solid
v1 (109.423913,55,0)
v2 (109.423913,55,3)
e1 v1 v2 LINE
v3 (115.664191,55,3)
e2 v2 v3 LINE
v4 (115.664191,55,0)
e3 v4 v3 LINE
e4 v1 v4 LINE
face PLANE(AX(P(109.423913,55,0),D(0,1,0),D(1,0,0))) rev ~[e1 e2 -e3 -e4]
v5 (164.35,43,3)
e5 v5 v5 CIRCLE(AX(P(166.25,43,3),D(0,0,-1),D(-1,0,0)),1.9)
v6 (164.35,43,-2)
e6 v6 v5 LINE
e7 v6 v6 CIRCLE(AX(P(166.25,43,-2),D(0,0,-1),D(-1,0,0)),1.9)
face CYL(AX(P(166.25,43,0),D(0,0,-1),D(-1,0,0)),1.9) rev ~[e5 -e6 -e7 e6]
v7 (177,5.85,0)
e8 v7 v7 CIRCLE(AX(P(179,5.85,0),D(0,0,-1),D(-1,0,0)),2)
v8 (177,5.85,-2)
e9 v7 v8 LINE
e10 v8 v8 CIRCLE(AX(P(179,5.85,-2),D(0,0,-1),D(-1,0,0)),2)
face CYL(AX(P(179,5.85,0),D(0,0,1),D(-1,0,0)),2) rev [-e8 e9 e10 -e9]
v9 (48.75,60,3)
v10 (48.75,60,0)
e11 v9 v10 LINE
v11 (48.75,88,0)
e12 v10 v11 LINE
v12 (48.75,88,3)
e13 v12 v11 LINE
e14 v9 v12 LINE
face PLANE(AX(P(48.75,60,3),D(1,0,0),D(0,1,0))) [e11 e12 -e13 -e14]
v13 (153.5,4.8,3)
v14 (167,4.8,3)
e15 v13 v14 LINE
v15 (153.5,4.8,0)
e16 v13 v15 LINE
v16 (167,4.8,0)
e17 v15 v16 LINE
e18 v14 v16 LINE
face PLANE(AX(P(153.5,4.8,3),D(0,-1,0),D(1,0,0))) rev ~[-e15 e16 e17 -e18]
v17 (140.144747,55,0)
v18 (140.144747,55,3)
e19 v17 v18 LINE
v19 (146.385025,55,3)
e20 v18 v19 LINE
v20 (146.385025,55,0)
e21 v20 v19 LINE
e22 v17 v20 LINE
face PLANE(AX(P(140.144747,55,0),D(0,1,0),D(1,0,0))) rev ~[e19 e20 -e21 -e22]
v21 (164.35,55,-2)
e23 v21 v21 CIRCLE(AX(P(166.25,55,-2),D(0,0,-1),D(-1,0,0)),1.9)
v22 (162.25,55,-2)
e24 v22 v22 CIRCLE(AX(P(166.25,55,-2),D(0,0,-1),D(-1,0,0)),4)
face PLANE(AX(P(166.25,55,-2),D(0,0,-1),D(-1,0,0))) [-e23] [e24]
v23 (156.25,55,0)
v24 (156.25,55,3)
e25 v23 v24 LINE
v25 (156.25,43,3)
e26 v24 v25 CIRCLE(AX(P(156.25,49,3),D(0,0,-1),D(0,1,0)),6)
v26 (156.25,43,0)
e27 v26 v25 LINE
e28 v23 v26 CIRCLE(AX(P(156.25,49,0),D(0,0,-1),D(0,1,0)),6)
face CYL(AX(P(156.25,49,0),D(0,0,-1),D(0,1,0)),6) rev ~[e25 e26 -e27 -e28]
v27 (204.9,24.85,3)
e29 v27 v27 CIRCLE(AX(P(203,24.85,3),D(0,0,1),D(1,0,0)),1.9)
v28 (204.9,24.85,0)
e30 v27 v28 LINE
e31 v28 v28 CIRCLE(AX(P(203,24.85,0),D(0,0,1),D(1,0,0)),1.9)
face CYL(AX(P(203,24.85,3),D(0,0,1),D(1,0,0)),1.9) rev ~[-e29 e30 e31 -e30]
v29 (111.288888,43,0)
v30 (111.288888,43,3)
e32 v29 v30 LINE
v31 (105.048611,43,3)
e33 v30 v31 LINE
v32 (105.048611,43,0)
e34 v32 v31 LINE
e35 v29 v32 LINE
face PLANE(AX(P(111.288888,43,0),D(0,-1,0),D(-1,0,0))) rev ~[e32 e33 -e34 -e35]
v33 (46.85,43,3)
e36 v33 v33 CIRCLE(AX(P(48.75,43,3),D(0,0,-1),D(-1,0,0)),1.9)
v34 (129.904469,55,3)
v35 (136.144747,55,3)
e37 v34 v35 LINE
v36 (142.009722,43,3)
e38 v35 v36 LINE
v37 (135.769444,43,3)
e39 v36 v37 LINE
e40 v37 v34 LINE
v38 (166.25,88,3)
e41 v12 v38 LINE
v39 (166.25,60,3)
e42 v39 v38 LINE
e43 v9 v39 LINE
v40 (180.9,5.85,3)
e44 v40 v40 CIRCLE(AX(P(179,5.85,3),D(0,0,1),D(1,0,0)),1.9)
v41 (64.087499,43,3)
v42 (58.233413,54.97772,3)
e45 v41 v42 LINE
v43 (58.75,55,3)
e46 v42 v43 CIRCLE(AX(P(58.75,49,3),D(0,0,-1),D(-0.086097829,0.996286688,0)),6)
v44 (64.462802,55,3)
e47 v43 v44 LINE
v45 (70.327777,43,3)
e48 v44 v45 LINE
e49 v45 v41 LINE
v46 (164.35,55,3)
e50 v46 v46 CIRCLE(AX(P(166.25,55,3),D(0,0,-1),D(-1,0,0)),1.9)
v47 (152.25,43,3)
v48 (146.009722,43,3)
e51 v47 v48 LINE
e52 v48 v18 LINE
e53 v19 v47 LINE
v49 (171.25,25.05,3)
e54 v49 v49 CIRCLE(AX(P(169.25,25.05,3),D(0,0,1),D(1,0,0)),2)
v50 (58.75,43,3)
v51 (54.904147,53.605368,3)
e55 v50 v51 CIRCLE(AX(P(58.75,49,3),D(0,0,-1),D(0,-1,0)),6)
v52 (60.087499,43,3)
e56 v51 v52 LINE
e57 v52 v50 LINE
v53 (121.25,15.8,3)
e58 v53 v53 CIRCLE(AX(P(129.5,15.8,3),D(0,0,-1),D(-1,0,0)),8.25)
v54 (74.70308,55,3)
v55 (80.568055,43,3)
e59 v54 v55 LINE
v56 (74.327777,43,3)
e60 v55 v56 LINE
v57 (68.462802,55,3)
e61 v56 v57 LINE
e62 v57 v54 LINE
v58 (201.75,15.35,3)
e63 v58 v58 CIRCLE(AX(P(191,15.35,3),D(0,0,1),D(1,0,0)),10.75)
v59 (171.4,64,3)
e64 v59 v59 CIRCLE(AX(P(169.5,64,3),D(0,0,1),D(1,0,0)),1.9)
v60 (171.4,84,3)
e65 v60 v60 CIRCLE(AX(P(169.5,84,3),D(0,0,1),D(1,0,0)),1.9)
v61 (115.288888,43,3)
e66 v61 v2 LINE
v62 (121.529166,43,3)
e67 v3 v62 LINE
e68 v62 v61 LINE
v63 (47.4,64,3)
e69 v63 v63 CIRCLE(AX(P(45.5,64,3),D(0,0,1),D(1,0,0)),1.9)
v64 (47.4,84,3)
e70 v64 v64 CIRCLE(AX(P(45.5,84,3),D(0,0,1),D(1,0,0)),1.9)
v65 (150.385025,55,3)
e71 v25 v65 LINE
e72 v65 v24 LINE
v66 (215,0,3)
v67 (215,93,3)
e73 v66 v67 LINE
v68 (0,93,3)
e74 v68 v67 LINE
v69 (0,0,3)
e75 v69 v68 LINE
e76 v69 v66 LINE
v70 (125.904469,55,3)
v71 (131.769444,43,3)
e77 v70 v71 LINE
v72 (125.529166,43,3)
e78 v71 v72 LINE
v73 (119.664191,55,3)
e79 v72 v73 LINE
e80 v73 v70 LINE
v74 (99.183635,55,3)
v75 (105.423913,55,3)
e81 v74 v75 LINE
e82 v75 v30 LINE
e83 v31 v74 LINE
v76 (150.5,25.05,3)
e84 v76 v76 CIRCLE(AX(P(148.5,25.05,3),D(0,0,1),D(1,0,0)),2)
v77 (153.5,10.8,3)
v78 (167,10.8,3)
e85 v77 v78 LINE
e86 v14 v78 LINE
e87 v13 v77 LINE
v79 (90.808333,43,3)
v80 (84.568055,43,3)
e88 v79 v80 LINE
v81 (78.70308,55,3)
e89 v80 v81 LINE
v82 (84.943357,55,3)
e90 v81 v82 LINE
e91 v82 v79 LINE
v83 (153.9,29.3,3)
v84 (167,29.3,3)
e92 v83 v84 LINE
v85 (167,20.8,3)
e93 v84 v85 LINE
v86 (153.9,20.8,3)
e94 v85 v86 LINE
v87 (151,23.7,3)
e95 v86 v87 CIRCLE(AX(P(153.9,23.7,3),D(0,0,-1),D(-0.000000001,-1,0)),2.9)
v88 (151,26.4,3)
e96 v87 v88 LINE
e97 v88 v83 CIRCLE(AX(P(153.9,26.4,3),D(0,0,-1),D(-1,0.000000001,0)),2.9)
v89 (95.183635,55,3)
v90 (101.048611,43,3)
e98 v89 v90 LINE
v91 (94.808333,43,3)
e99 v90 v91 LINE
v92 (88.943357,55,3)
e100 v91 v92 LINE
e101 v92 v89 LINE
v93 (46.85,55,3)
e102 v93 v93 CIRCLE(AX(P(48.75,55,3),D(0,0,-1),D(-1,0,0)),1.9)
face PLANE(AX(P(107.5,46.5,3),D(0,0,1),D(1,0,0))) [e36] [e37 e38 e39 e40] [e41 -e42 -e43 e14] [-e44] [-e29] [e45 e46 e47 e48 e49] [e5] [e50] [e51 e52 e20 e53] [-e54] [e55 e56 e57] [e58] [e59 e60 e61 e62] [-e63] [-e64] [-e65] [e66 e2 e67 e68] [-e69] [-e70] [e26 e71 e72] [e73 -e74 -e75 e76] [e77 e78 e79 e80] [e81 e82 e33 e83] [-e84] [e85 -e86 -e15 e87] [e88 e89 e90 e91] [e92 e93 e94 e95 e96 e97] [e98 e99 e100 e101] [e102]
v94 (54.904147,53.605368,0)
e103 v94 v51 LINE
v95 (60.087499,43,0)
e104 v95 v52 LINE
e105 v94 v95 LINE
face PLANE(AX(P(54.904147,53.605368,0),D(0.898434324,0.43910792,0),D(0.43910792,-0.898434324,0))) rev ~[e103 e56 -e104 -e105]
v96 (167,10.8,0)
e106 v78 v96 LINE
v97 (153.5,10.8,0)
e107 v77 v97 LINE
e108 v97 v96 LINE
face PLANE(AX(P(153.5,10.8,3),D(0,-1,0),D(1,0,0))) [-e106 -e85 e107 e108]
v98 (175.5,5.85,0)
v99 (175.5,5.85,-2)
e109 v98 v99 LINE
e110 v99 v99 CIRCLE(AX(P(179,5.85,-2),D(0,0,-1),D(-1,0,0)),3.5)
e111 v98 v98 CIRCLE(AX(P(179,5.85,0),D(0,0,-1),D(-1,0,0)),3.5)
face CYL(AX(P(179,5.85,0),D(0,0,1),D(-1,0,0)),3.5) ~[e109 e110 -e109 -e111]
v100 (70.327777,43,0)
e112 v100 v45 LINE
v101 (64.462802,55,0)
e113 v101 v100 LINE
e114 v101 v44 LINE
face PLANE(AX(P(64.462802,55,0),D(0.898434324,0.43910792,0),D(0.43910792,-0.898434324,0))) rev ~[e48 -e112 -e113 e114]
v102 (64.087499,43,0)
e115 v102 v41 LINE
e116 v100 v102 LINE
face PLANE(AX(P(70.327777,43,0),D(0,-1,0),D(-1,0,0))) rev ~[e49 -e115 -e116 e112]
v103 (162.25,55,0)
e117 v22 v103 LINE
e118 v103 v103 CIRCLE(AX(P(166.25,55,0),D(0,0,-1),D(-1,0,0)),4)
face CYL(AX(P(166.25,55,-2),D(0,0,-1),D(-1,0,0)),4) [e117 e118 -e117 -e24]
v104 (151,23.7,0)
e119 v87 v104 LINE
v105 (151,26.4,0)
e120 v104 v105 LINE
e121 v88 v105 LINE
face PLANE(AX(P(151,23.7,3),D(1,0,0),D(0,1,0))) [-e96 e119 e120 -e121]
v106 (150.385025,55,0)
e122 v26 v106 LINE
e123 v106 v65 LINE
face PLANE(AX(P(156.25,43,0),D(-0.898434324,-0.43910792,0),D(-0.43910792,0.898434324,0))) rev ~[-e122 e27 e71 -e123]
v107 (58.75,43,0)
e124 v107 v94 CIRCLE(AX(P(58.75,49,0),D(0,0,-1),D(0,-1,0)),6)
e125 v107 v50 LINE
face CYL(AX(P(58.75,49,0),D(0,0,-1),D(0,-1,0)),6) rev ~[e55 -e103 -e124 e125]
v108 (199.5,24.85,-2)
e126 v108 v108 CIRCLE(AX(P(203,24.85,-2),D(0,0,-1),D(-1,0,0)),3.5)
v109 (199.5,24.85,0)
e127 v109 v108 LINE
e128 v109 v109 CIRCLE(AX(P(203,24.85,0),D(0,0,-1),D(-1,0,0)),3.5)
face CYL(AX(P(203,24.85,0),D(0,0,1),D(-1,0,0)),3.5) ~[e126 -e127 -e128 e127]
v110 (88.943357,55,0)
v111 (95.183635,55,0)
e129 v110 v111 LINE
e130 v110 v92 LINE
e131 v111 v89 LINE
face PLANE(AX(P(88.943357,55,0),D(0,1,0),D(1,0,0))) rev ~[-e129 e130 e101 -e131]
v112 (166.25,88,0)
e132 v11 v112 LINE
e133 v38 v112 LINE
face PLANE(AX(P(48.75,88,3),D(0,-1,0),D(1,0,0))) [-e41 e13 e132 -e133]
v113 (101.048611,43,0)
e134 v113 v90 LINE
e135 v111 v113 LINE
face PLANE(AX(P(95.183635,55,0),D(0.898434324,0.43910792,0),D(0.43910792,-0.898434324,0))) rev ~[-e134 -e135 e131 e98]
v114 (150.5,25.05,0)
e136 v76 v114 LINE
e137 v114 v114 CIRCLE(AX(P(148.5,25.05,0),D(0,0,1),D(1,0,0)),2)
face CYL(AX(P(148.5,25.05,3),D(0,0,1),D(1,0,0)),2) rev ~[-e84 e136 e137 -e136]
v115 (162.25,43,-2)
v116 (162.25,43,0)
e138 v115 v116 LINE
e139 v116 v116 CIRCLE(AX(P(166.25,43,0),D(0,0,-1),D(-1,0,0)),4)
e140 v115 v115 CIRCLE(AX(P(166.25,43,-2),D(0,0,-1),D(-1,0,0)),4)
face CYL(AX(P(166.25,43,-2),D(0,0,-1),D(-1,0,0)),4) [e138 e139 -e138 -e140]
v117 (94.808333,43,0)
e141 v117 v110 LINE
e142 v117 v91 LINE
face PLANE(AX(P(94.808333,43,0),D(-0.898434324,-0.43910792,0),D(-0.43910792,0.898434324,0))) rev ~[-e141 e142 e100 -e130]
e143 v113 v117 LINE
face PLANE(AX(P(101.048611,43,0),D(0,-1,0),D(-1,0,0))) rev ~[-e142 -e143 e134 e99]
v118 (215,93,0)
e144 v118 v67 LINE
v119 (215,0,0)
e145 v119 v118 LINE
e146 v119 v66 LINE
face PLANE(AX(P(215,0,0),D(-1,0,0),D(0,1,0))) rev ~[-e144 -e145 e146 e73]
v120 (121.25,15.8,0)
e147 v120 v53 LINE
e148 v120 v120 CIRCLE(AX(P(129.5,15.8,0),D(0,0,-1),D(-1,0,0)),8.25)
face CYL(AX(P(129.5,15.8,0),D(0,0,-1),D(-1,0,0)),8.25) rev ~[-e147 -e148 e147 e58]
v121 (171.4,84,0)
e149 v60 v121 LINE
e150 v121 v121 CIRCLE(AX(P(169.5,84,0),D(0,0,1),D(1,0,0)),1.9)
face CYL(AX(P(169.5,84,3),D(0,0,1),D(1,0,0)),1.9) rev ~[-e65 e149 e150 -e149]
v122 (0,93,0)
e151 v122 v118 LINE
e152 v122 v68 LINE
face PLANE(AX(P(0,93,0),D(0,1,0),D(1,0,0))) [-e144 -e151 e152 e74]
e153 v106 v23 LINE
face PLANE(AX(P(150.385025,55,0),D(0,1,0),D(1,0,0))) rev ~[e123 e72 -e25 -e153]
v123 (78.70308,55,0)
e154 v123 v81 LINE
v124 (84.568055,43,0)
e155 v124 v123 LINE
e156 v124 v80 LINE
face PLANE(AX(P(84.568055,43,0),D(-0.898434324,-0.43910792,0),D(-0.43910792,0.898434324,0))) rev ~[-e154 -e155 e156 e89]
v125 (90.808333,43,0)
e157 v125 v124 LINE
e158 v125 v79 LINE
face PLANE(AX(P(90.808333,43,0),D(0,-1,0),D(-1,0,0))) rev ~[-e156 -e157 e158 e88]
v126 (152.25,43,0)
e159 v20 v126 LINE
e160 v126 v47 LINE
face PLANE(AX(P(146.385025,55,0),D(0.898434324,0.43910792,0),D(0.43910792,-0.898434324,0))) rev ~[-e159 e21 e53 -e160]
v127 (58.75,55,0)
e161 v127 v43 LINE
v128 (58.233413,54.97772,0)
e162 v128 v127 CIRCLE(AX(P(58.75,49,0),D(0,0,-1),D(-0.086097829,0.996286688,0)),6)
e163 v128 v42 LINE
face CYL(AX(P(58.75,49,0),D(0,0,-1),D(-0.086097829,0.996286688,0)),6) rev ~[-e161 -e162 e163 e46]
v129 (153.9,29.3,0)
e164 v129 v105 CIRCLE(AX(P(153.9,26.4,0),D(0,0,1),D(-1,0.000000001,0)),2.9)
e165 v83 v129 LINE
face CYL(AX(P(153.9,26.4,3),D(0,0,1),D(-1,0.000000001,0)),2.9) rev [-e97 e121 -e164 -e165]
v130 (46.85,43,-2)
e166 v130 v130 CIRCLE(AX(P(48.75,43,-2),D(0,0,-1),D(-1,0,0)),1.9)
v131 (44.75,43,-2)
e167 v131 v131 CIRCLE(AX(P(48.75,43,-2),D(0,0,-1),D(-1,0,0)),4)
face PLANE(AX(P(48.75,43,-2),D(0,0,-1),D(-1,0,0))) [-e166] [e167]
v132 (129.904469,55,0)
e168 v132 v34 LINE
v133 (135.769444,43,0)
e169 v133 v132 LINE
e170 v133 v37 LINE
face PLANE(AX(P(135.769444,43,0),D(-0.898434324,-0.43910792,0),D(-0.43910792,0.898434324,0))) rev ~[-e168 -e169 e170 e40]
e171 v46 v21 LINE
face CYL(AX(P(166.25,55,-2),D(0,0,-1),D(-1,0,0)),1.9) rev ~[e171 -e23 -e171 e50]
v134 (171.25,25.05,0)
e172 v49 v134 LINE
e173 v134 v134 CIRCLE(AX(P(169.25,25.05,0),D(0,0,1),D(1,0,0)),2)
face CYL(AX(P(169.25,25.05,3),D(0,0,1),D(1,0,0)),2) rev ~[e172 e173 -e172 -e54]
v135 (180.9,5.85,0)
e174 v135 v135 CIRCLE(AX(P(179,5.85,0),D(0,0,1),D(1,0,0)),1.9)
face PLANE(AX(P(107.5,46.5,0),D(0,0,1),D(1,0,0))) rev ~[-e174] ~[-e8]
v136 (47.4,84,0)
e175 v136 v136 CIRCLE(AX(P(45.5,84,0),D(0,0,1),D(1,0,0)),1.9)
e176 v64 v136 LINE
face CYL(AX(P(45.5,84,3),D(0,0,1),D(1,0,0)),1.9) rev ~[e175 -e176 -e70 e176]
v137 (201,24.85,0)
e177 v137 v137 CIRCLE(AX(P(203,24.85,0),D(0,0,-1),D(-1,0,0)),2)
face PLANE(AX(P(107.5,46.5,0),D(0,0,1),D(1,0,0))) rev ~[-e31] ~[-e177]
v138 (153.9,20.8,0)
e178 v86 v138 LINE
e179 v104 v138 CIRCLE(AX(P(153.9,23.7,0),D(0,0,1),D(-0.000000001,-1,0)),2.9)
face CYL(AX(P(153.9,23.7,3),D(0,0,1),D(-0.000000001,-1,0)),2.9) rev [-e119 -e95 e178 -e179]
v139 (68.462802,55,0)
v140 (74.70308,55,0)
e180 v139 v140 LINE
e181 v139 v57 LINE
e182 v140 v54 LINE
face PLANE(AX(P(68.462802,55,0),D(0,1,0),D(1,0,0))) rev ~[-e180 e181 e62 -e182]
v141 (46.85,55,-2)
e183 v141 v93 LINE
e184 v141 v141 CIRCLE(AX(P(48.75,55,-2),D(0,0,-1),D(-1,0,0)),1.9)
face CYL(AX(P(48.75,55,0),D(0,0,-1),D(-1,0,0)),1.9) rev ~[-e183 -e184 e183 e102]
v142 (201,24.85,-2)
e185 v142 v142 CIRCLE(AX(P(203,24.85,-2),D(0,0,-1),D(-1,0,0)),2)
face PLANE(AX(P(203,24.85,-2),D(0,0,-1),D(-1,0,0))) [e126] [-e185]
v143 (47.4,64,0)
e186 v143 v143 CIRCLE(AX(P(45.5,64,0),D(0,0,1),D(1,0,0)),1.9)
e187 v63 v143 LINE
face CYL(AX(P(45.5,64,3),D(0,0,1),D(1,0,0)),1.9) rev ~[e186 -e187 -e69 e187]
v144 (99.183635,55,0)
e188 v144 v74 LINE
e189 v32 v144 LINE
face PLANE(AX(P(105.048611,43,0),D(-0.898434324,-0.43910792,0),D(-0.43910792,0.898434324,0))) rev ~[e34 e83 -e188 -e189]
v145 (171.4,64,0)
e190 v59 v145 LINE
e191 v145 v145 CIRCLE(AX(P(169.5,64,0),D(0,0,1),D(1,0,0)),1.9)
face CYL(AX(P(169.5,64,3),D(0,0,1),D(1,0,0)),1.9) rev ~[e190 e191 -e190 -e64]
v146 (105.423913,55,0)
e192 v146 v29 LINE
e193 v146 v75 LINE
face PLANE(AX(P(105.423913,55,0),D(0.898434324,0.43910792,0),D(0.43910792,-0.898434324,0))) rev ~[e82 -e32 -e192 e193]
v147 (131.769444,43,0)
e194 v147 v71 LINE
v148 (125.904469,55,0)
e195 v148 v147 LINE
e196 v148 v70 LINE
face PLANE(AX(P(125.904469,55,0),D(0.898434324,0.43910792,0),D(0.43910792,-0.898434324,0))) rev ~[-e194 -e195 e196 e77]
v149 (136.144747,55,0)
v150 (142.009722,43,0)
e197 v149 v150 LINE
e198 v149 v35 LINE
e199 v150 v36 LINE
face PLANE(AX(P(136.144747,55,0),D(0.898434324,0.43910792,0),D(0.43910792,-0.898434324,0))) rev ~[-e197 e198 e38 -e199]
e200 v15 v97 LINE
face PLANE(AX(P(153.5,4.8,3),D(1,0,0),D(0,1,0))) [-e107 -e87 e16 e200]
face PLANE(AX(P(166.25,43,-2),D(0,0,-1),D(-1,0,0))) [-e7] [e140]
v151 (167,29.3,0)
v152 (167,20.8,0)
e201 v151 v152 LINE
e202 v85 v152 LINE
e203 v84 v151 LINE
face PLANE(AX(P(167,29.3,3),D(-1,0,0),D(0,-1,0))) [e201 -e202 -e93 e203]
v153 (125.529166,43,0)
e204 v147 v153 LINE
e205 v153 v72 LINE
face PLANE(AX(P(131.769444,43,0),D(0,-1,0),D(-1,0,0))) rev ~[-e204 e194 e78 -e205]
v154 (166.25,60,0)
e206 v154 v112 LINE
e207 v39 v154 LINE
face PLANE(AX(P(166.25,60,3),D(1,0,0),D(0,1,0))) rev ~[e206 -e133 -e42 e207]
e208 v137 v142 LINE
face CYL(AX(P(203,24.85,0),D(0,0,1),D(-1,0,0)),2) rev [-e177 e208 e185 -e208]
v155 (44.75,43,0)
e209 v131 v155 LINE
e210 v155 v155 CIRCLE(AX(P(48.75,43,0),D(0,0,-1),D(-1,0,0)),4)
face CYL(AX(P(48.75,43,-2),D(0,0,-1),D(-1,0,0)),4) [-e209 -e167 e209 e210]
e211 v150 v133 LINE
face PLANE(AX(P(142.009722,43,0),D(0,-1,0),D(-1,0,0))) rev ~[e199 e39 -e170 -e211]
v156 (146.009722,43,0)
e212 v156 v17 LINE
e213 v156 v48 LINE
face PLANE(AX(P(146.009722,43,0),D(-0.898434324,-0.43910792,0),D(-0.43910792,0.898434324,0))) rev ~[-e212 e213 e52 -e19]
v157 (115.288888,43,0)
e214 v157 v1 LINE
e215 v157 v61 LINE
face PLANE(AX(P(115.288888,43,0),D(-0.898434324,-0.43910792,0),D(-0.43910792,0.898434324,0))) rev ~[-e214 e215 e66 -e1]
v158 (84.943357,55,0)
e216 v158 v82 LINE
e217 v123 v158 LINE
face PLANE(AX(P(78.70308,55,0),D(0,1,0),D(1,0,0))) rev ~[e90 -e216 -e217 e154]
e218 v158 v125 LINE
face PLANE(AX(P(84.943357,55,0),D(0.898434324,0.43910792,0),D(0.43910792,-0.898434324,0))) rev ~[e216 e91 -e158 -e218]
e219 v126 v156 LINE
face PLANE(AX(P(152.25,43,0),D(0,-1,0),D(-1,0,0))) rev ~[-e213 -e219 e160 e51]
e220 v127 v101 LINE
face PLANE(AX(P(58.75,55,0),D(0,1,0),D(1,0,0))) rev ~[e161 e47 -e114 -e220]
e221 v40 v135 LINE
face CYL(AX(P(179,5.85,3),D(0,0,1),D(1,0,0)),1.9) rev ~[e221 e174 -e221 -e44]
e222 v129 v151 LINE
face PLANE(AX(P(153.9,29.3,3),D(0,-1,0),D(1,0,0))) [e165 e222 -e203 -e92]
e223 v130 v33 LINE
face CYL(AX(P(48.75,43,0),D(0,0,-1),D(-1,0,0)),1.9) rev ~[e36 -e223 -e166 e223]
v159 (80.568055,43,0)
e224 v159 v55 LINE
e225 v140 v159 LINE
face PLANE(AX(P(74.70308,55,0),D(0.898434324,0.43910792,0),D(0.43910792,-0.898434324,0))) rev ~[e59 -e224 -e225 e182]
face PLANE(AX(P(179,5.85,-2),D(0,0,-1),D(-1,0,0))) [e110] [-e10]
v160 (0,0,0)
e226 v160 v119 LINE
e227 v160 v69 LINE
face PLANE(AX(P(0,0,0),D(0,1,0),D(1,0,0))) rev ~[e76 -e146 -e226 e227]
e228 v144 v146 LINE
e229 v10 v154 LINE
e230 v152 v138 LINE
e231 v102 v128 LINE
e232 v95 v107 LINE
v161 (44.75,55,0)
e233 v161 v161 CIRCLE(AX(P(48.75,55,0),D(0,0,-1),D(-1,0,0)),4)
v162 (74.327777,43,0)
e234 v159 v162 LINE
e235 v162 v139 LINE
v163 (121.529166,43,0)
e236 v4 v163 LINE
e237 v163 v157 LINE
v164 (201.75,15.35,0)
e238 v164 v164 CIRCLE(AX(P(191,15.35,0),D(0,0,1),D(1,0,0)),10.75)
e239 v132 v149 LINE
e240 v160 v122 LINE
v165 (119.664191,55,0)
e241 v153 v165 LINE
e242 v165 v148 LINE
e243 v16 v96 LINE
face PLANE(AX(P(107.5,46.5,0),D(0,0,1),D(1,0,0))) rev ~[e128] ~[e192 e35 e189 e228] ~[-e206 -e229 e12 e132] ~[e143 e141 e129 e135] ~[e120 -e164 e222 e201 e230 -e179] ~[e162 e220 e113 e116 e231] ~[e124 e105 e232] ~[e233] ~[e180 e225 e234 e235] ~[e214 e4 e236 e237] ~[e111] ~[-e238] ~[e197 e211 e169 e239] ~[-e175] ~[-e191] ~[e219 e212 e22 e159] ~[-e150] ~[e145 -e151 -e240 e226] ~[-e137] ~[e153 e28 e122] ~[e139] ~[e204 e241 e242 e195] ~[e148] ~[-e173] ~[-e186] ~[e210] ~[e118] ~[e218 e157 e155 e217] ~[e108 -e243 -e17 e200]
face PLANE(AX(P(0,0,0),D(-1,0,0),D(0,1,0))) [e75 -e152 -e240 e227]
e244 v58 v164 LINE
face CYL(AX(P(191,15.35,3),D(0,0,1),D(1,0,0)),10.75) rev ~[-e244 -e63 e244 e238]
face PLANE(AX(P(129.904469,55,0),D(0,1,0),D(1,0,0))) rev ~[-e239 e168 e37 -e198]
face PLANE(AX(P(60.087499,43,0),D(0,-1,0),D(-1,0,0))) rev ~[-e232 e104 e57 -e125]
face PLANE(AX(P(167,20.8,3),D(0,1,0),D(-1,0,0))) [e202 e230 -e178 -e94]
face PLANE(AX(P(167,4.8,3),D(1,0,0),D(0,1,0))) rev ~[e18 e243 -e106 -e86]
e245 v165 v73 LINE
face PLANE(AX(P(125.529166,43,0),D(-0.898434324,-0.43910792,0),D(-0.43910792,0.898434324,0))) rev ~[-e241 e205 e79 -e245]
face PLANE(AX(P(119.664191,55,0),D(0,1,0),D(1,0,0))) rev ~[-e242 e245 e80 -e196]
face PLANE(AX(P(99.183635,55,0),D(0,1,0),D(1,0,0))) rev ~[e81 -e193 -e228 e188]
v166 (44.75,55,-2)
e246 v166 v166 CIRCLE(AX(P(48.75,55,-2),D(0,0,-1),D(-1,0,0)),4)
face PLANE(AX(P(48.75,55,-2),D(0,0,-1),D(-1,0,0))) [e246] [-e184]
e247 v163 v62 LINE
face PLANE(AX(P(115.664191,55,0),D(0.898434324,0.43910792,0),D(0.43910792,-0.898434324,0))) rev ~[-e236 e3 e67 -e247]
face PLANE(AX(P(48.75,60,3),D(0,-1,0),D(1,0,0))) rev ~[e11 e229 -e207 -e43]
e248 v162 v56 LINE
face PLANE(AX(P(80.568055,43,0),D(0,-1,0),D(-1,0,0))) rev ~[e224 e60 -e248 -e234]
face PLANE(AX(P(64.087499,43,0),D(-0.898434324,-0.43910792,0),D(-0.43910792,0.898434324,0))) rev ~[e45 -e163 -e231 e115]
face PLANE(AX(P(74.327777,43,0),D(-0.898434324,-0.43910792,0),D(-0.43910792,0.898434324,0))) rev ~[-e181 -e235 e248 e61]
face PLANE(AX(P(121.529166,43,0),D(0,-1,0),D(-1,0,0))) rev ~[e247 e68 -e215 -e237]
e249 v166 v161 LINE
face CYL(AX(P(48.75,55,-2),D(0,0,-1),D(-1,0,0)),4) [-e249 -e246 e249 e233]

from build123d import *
from OCP.BRepFilletAPI import BRepFilletAPI_MakeChamfer

# Parameters (mm, degrees)
SZKIC1_W                    = 215
SZKIC1_H                    = 93
DODANIE_WYCI_GNI_CIE1_DEPTH = 3
DODANIE_WYCI_GNI_CIE3_DEPTH = 5
SZKIC4_R                    = 1.9
WYTNIJ_WYCI_GNI_CIE1_DEPTH  = 10
SZKIC5_R                    = 1.9
SZKIC5_W                    = 117.5
SZKIC5_H                    = 28
WYTNIJ_WYCI_GNI_CIE2_DEPTH  = 35
SFAZOWANIE1_SIZE            = 2
SFAZOWANIE1_SIZE2           = 1.42483793
SFAZOWANIE1_SIZE2_2         = 2.349845037
SZKIC6_R                    = 10.75
SZKIC6_R_2                  = 1.9
SZKIC6_R_3                  = 2
SZKIC6_W                    = 13.5
SZKIC6_H                    = 6
WYTNIJ_WYCI_GNI_CIE3_DEPTH  = 238.314137801
SZKIC8_R                    = 3.5
SZKIC8_R_2                  = 2
DODANIE_WYCI_GNI_CIE4_DEPTH = 2
SZKIC9_R                    = 1.9
WYTNIJ_WYCI_GNI_CIE4_DEPTH  = 3
DODANIE_WYCI_GNI_CIE5_START = 2
SZKIC10_R                   = 4
SZKIC10_R_2                 = 1.9
DODANIE_WYCI_GNI_CIE5_DEPTH = 2
SZKIC11_R                   = 8.25
WYTNIJ_WYCI_GNI_CIE5_DEPTH  = 10
CUT_EXTRUDE1_REACH          = 152.101


with BuildPart() as part:
    # Szkic1 → Dodanie-wyciągnięcie1 (new body)
    with BuildSketch(Plane.XY):
        with Locations((107.5, 46.5)):
            Rectangle(SZKIC1_W, SZKIC1_H)
    extrude(amount=DODANIE_WYCI_GNI_CIE1_DEPTH)

    # Szkic3 → Dodanie-wyciągnięcie3 (add, symmetric)
    with BuildSketch(Plane(origin=(107.5, 0, 0), x_dir=(0, 0, -1), z_dir=(1, 0, 0))):
        Polygon((0, 3), (10, 3), (35, 35), (35, 41), (0, 41), align=None)
        Polygon((3, 11.541451884), (3, 35), (31.193011155, 35), (9.799205499, 7.615928759), align=None, mode=Mode.SUBTRACT)
    extrude(amount=DODANIE_WYCI_GNI_CIE3_DEPTH, both=True)

    # Szkic4 → Wytnij-wyciągnięcie1 (cut)
    with BuildSketch(Plane.XZ.offset(-3)):
        with Locations(Location((107.5, -5, 0), (0, 0, 270))):
            Circle(SZKIC4_R)
    extrude(amount=-WYTNIJ_WYCI_GNI_CIE1_DEPTH, mode=Mode.SUBTRACT)

    # Szkic5 → Wytnij-wyciągnięcie2 (cut)
    with BuildSketch(Plane.XY.offset(3)):
        with Locations((45.5, 84)):
            Circle(SZKIC5_R)
        with Locations((45.5, 64)):
            Circle(SZKIC5_R)
        with Locations((169.5, 64)):
            Circle(SZKIC5_R)
        with Locations((169.5, 84)):
            Circle(SZKIC5_R)
        with Locations((107.5, 74)):
            Rectangle(SZKIC5_W, SZKIC5_H)
    extrude(amount=-WYTNIJ_WYCI_GNI_CIE2_DEPTH, mode=Mode.SUBTRACT)

    # Sfazowanie1: one chamfer whose edges measure the first distance from different faces: ONE call of the kernel's chamfer builder (chamfer() names one face for all edges)
    sfazowanie1_edges_1 = [part.edges().sort_by_distance(p)[0] for p in [
        (107.5, 35, -31.193011155),
    ]]
    sfazowanie1_side_1 = [part.faces().sort_by_distance(p)[0] for p in [
        (107.5, 35, -17.096505578),
    ]]
    sfazowanie1_edges_2 = [part.edges().sort_by_distance(p)[0] for p in [
        (107.5, 35, -3),
    ]]
    sfazowanie1_edges_3 = [part.edges().sort_by_distance(p)[0] for p in [
        (107.5, 7.615928759, -9.799205499),
    ]]
    sfazowanie1_side_3 = [part.faces().sort_by_distance(p)[0] for p in [
        (107.5, 21.30796438, -20.496108327),
    ]]
    sfazowanie1 = BRepFilletAPI_MakeChamfer(part.part.solid().wrapped)
    for e in sfazowanie1_edges_1:
        sfazowanie1.Add(SFAZOWANIE1_SIZE, SFAZOWANIE1_SIZE2, e.wrapped, sfazowanie1_side_1[0].wrapped)  # the first distance lies on this face
    for e in sfazowanie1_edges_2:
        sfazowanie1.Add(SFAZOWANIE1_SIZE, e.wrapped)
    for e in sfazowanie1_edges_3:
        sfazowanie1.Add(SFAZOWANIE1_SIZE, SFAZOWANIE1_SIZE2_2, e.wrapped, sfazowanie1_side_3[0].wrapped)  # the first distance lies on this face
    add(Compound.cast(sfazowanie1.Shape()), mode=Mode.REPLACE)

    # Szkic6 → Wytnij-wyciągnięcie3 (cut, through all)
    with BuildSketch(Plane.XY.offset(3)):
        with Locations((191, 15.35)):
            Circle(SZKIC6_R)
        with Locations((203, 24.85)):
            Circle(SZKIC6_R_2)
        with Locations((179, 5.85)):
            Circle(SZKIC6_R_2)
        with Locations((148.5, 25.05)):
            Circle(SZKIC6_R_3)
        with Locations((169.25, 25.05)):
            Circle(SZKIC6_R_3)
        with Locations((160.25, 7.8)):
            Rectangle(SZKIC6_W, SZKIC6_H)
        with BuildLine():
            Line((167, 20.8), (153.9, 20.8))
            ThreePointArc((153.9, 20.8), (151.849390335, 21.649390335), (151, 23.7))
            Line((151, 23.7), (151, 26.4))
            ThreePointArc((151, 26.4), (151.849390335, 28.450609665), (153.9, 29.3))
            Line((153.9, 29.3), (167, 29.3))
            Line((167, 29.3), (167, 20.8))
        make_face()
    extrude(amount=-WYTNIJ_WYCI_GNI_CIE3_DEPTH, mode=Mode.SUBTRACT)

    # Szkic8 → Dodanie-wyciągnięcie4 (add)
    # profile 1 of 2: a face of its own
    with BuildSketch(Plane(origin=(0, 0, 0), x_dir=(-1, 0, 0), z_dir=(0, 0, -1))):
        with Locations((-179, 5.85)):
            Circle(SZKIC8_R)
        with Locations((-179, 5.85)):
            Circle(SZKIC8_R_2, mode=Mode.SUBTRACT)
    # profile 2 of 2: a face of its own
    with BuildSketch(Plane(origin=(0, 0, 0), x_dir=(-1, 0, 0), z_dir=(0, 0, -1))):
        with Locations((-203, 24.85)):
            Circle(SZKIC8_R)
        with Locations((-203, 24.85)):
            Circle(SZKIC8_R_2, mode=Mode.SUBTRACT)
    extrude(amount=DODANIE_WYCI_GNI_CIE4_DEPTH)

    # Szkic9 → Wytnij-wyciągnięcie4 (cut)
    with BuildSketch(Plane(origin=(0, 0, 0), x_dir=(-1, 0, 0), z_dir=(0, 0, -1))):
        with BuildLine():
            Line((-150.385024789, 55), (-156.25, 55))
            ThreePointArc((-156.25, 55), (-162.25, 49), (-156.25, 43))
            Line((-156.25, 43), (-150.385024789, 55))
        make_face()
        Polygon((-140.144746897, 55), (-146.385024789, 55), (-152.25, 43), (-146.009722108, 43), align=None)
        Polygon((-129.904469005, 55), (-136.144746897, 55), (-142.009722108, 43), (-135.769444216, 43), align=None)
        Polygon((-119.664191113, 55), (-125.904469005, 55), (-131.769444216, 43), (-125.529166324, 43), align=None)
        Polygon((-109.423913221, 55), (-115.664191113, 55), (-121.529166324, 43), (-115.288888432, 43), align=None)
        Polygon((-99.183635329, 55), (-105.423913221, 55), (-111.288888432, 43), (-105.04861054, 43), align=None)
        Polygon((-88.943357437, 55), (-95.183635329, 55), (-101.04861054, 43), (-94.808332648, 43), align=None)
        Polygon((-78.703079545, 55), (-84.943357437, 55), (-90.808332648, 43), (-84.568054757, 43), align=None)
        Polygon((-68.462801653, 55), (-74.703079545, 55), (-80.568054757, 43), (-74.327776865, 43), align=None)
        with BuildLine():
            Line((-58.75, 55), (-64.462801653, 55))
            Line((-64.462801653, 55), (-70.327776865, 43))
            Line((-70.327776865, 43), (-64.087498973, 43))
            Line((-64.087498973, 43), (-58.233413005, 54.977720124))
            ThreePointArc((-58.233413005, 54.977720124), (-58.491466387, 54.994427443), (-58.75, 55))
        make_face()
        with BuildLine():
            Line((-54.904147181, 53.605368183), (-60.087498973, 43))
            Line((-60.087498973, 43), (-58.75, 43))
            ThreePointArc((-58.75, 43), (-53.109423385, 46.954542728), (-54.904147181, 53.605368183))
        make_face()
        with Locations((-166.25, 55)):
            Circle(SZKIC9_R)
        with Locations((-166.25, 43)):
            Circle(SZKIC9_R)
        with Locations((-48.75, 43)):
            Circle(SZKIC9_R)
        with Locations((-48.75, 55)):
            Circle(SZKIC9_R)
    extrude(amount=-WYTNIJ_WYCI_GNI_CIE4_DEPTH, mode=Mode.SUBTRACT)

    # Szkic10 → Dodanie-wyciągnięcie5 (add)
    # profile 1 of 4: a face of its own
    with BuildSketch(Plane(origin=(0, 0, 0), x_dir=(-1, 0, 0), z_dir=(0, 0, -1)).offset(DODANIE_WYCI_GNI_CIE5_START)):
        with Locations((-166.25, 55)):
            Circle(SZKIC10_R)
        with Locations((-166.25, 55)):
            Circle(SZKIC10_R_2, mode=Mode.SUBTRACT)
    # profile 2 of 4: a face of its own
    with BuildSketch(Plane(origin=(0, 0, 0), x_dir=(-1, 0, 0), z_dir=(0, 0, -1)).offset(DODANIE_WYCI_GNI_CIE5_START)):
        with Locations((-166.25, 43)):
            Circle(SZKIC10_R)
        with Locations((-166.25, 43)):
            Circle(SZKIC10_R_2, mode=Mode.SUBTRACT)
    # profile 3 of 4: a face of its own
    with BuildSketch(Plane(origin=(0, 0, 0), x_dir=(-1, 0, 0), z_dir=(0, 0, -1)).offset(DODANIE_WYCI_GNI_CIE5_START)):
        with Locations((-48.75, 43)):
            Circle(SZKIC10_R)
        with Locations((-48.75, 43)):
            Circle(SZKIC10_R_2, mode=Mode.SUBTRACT)
    # profile 4 of 4: a face of its own
    with BuildSketch(Plane(origin=(0, 0, 0), x_dir=(-1, 0, 0), z_dir=(0, 0, -1)).offset(DODANIE_WYCI_GNI_CIE5_START)):
        with Locations((-48.75, 55)):
            Circle(SZKIC10_R)
        with Locations((-48.75, 55)):
            Circle(SZKIC10_R_2, mode=Mode.SUBTRACT)
    extrude(amount=-DODANIE_WYCI_GNI_CIE5_DEPTH)

    # Szkic11 → Wytnij-wyciągnięcie5 (cut)
    with BuildSketch(Plane(origin=(0, 0, 0), x_dir=(-1, 0, 0), z_dir=(0, 0, -1))):
        with Locations((-129.5, 15.8)):
            Circle(SZKIC11_R)
    extrude(amount=-WYTNIJ_WYCI_GNI_CIE5_DEPTH, mode=Mode.SUBTRACT)

    # Sketch1 → Cut-Extrude1 (cut, up to next)
    with BuildSketch(Plane(origin=(112.5, 0, 0), x_dir=(0, 0, -1), z_dir=(1, 0, 0)), mode=Mode.PRIVATE) as cut_extrude1_sk1:
        Polygon((0, 41), (0, 3), (10, 3), (35, 35), (35, 41), align=None)
    cut_extrude1_tool1 = extrude(cut_extrude1_sk1.sketch, amount=-CUT_EXTRUDE1_REACH, mode=Mode.PRIVATE) & part.part
    add(cut_extrude1_tool1.solids().sort_by_distance((112.5, 25.584229, -13.557348))[0], mode=Mode.SUBTRACT)


solid = part.part
